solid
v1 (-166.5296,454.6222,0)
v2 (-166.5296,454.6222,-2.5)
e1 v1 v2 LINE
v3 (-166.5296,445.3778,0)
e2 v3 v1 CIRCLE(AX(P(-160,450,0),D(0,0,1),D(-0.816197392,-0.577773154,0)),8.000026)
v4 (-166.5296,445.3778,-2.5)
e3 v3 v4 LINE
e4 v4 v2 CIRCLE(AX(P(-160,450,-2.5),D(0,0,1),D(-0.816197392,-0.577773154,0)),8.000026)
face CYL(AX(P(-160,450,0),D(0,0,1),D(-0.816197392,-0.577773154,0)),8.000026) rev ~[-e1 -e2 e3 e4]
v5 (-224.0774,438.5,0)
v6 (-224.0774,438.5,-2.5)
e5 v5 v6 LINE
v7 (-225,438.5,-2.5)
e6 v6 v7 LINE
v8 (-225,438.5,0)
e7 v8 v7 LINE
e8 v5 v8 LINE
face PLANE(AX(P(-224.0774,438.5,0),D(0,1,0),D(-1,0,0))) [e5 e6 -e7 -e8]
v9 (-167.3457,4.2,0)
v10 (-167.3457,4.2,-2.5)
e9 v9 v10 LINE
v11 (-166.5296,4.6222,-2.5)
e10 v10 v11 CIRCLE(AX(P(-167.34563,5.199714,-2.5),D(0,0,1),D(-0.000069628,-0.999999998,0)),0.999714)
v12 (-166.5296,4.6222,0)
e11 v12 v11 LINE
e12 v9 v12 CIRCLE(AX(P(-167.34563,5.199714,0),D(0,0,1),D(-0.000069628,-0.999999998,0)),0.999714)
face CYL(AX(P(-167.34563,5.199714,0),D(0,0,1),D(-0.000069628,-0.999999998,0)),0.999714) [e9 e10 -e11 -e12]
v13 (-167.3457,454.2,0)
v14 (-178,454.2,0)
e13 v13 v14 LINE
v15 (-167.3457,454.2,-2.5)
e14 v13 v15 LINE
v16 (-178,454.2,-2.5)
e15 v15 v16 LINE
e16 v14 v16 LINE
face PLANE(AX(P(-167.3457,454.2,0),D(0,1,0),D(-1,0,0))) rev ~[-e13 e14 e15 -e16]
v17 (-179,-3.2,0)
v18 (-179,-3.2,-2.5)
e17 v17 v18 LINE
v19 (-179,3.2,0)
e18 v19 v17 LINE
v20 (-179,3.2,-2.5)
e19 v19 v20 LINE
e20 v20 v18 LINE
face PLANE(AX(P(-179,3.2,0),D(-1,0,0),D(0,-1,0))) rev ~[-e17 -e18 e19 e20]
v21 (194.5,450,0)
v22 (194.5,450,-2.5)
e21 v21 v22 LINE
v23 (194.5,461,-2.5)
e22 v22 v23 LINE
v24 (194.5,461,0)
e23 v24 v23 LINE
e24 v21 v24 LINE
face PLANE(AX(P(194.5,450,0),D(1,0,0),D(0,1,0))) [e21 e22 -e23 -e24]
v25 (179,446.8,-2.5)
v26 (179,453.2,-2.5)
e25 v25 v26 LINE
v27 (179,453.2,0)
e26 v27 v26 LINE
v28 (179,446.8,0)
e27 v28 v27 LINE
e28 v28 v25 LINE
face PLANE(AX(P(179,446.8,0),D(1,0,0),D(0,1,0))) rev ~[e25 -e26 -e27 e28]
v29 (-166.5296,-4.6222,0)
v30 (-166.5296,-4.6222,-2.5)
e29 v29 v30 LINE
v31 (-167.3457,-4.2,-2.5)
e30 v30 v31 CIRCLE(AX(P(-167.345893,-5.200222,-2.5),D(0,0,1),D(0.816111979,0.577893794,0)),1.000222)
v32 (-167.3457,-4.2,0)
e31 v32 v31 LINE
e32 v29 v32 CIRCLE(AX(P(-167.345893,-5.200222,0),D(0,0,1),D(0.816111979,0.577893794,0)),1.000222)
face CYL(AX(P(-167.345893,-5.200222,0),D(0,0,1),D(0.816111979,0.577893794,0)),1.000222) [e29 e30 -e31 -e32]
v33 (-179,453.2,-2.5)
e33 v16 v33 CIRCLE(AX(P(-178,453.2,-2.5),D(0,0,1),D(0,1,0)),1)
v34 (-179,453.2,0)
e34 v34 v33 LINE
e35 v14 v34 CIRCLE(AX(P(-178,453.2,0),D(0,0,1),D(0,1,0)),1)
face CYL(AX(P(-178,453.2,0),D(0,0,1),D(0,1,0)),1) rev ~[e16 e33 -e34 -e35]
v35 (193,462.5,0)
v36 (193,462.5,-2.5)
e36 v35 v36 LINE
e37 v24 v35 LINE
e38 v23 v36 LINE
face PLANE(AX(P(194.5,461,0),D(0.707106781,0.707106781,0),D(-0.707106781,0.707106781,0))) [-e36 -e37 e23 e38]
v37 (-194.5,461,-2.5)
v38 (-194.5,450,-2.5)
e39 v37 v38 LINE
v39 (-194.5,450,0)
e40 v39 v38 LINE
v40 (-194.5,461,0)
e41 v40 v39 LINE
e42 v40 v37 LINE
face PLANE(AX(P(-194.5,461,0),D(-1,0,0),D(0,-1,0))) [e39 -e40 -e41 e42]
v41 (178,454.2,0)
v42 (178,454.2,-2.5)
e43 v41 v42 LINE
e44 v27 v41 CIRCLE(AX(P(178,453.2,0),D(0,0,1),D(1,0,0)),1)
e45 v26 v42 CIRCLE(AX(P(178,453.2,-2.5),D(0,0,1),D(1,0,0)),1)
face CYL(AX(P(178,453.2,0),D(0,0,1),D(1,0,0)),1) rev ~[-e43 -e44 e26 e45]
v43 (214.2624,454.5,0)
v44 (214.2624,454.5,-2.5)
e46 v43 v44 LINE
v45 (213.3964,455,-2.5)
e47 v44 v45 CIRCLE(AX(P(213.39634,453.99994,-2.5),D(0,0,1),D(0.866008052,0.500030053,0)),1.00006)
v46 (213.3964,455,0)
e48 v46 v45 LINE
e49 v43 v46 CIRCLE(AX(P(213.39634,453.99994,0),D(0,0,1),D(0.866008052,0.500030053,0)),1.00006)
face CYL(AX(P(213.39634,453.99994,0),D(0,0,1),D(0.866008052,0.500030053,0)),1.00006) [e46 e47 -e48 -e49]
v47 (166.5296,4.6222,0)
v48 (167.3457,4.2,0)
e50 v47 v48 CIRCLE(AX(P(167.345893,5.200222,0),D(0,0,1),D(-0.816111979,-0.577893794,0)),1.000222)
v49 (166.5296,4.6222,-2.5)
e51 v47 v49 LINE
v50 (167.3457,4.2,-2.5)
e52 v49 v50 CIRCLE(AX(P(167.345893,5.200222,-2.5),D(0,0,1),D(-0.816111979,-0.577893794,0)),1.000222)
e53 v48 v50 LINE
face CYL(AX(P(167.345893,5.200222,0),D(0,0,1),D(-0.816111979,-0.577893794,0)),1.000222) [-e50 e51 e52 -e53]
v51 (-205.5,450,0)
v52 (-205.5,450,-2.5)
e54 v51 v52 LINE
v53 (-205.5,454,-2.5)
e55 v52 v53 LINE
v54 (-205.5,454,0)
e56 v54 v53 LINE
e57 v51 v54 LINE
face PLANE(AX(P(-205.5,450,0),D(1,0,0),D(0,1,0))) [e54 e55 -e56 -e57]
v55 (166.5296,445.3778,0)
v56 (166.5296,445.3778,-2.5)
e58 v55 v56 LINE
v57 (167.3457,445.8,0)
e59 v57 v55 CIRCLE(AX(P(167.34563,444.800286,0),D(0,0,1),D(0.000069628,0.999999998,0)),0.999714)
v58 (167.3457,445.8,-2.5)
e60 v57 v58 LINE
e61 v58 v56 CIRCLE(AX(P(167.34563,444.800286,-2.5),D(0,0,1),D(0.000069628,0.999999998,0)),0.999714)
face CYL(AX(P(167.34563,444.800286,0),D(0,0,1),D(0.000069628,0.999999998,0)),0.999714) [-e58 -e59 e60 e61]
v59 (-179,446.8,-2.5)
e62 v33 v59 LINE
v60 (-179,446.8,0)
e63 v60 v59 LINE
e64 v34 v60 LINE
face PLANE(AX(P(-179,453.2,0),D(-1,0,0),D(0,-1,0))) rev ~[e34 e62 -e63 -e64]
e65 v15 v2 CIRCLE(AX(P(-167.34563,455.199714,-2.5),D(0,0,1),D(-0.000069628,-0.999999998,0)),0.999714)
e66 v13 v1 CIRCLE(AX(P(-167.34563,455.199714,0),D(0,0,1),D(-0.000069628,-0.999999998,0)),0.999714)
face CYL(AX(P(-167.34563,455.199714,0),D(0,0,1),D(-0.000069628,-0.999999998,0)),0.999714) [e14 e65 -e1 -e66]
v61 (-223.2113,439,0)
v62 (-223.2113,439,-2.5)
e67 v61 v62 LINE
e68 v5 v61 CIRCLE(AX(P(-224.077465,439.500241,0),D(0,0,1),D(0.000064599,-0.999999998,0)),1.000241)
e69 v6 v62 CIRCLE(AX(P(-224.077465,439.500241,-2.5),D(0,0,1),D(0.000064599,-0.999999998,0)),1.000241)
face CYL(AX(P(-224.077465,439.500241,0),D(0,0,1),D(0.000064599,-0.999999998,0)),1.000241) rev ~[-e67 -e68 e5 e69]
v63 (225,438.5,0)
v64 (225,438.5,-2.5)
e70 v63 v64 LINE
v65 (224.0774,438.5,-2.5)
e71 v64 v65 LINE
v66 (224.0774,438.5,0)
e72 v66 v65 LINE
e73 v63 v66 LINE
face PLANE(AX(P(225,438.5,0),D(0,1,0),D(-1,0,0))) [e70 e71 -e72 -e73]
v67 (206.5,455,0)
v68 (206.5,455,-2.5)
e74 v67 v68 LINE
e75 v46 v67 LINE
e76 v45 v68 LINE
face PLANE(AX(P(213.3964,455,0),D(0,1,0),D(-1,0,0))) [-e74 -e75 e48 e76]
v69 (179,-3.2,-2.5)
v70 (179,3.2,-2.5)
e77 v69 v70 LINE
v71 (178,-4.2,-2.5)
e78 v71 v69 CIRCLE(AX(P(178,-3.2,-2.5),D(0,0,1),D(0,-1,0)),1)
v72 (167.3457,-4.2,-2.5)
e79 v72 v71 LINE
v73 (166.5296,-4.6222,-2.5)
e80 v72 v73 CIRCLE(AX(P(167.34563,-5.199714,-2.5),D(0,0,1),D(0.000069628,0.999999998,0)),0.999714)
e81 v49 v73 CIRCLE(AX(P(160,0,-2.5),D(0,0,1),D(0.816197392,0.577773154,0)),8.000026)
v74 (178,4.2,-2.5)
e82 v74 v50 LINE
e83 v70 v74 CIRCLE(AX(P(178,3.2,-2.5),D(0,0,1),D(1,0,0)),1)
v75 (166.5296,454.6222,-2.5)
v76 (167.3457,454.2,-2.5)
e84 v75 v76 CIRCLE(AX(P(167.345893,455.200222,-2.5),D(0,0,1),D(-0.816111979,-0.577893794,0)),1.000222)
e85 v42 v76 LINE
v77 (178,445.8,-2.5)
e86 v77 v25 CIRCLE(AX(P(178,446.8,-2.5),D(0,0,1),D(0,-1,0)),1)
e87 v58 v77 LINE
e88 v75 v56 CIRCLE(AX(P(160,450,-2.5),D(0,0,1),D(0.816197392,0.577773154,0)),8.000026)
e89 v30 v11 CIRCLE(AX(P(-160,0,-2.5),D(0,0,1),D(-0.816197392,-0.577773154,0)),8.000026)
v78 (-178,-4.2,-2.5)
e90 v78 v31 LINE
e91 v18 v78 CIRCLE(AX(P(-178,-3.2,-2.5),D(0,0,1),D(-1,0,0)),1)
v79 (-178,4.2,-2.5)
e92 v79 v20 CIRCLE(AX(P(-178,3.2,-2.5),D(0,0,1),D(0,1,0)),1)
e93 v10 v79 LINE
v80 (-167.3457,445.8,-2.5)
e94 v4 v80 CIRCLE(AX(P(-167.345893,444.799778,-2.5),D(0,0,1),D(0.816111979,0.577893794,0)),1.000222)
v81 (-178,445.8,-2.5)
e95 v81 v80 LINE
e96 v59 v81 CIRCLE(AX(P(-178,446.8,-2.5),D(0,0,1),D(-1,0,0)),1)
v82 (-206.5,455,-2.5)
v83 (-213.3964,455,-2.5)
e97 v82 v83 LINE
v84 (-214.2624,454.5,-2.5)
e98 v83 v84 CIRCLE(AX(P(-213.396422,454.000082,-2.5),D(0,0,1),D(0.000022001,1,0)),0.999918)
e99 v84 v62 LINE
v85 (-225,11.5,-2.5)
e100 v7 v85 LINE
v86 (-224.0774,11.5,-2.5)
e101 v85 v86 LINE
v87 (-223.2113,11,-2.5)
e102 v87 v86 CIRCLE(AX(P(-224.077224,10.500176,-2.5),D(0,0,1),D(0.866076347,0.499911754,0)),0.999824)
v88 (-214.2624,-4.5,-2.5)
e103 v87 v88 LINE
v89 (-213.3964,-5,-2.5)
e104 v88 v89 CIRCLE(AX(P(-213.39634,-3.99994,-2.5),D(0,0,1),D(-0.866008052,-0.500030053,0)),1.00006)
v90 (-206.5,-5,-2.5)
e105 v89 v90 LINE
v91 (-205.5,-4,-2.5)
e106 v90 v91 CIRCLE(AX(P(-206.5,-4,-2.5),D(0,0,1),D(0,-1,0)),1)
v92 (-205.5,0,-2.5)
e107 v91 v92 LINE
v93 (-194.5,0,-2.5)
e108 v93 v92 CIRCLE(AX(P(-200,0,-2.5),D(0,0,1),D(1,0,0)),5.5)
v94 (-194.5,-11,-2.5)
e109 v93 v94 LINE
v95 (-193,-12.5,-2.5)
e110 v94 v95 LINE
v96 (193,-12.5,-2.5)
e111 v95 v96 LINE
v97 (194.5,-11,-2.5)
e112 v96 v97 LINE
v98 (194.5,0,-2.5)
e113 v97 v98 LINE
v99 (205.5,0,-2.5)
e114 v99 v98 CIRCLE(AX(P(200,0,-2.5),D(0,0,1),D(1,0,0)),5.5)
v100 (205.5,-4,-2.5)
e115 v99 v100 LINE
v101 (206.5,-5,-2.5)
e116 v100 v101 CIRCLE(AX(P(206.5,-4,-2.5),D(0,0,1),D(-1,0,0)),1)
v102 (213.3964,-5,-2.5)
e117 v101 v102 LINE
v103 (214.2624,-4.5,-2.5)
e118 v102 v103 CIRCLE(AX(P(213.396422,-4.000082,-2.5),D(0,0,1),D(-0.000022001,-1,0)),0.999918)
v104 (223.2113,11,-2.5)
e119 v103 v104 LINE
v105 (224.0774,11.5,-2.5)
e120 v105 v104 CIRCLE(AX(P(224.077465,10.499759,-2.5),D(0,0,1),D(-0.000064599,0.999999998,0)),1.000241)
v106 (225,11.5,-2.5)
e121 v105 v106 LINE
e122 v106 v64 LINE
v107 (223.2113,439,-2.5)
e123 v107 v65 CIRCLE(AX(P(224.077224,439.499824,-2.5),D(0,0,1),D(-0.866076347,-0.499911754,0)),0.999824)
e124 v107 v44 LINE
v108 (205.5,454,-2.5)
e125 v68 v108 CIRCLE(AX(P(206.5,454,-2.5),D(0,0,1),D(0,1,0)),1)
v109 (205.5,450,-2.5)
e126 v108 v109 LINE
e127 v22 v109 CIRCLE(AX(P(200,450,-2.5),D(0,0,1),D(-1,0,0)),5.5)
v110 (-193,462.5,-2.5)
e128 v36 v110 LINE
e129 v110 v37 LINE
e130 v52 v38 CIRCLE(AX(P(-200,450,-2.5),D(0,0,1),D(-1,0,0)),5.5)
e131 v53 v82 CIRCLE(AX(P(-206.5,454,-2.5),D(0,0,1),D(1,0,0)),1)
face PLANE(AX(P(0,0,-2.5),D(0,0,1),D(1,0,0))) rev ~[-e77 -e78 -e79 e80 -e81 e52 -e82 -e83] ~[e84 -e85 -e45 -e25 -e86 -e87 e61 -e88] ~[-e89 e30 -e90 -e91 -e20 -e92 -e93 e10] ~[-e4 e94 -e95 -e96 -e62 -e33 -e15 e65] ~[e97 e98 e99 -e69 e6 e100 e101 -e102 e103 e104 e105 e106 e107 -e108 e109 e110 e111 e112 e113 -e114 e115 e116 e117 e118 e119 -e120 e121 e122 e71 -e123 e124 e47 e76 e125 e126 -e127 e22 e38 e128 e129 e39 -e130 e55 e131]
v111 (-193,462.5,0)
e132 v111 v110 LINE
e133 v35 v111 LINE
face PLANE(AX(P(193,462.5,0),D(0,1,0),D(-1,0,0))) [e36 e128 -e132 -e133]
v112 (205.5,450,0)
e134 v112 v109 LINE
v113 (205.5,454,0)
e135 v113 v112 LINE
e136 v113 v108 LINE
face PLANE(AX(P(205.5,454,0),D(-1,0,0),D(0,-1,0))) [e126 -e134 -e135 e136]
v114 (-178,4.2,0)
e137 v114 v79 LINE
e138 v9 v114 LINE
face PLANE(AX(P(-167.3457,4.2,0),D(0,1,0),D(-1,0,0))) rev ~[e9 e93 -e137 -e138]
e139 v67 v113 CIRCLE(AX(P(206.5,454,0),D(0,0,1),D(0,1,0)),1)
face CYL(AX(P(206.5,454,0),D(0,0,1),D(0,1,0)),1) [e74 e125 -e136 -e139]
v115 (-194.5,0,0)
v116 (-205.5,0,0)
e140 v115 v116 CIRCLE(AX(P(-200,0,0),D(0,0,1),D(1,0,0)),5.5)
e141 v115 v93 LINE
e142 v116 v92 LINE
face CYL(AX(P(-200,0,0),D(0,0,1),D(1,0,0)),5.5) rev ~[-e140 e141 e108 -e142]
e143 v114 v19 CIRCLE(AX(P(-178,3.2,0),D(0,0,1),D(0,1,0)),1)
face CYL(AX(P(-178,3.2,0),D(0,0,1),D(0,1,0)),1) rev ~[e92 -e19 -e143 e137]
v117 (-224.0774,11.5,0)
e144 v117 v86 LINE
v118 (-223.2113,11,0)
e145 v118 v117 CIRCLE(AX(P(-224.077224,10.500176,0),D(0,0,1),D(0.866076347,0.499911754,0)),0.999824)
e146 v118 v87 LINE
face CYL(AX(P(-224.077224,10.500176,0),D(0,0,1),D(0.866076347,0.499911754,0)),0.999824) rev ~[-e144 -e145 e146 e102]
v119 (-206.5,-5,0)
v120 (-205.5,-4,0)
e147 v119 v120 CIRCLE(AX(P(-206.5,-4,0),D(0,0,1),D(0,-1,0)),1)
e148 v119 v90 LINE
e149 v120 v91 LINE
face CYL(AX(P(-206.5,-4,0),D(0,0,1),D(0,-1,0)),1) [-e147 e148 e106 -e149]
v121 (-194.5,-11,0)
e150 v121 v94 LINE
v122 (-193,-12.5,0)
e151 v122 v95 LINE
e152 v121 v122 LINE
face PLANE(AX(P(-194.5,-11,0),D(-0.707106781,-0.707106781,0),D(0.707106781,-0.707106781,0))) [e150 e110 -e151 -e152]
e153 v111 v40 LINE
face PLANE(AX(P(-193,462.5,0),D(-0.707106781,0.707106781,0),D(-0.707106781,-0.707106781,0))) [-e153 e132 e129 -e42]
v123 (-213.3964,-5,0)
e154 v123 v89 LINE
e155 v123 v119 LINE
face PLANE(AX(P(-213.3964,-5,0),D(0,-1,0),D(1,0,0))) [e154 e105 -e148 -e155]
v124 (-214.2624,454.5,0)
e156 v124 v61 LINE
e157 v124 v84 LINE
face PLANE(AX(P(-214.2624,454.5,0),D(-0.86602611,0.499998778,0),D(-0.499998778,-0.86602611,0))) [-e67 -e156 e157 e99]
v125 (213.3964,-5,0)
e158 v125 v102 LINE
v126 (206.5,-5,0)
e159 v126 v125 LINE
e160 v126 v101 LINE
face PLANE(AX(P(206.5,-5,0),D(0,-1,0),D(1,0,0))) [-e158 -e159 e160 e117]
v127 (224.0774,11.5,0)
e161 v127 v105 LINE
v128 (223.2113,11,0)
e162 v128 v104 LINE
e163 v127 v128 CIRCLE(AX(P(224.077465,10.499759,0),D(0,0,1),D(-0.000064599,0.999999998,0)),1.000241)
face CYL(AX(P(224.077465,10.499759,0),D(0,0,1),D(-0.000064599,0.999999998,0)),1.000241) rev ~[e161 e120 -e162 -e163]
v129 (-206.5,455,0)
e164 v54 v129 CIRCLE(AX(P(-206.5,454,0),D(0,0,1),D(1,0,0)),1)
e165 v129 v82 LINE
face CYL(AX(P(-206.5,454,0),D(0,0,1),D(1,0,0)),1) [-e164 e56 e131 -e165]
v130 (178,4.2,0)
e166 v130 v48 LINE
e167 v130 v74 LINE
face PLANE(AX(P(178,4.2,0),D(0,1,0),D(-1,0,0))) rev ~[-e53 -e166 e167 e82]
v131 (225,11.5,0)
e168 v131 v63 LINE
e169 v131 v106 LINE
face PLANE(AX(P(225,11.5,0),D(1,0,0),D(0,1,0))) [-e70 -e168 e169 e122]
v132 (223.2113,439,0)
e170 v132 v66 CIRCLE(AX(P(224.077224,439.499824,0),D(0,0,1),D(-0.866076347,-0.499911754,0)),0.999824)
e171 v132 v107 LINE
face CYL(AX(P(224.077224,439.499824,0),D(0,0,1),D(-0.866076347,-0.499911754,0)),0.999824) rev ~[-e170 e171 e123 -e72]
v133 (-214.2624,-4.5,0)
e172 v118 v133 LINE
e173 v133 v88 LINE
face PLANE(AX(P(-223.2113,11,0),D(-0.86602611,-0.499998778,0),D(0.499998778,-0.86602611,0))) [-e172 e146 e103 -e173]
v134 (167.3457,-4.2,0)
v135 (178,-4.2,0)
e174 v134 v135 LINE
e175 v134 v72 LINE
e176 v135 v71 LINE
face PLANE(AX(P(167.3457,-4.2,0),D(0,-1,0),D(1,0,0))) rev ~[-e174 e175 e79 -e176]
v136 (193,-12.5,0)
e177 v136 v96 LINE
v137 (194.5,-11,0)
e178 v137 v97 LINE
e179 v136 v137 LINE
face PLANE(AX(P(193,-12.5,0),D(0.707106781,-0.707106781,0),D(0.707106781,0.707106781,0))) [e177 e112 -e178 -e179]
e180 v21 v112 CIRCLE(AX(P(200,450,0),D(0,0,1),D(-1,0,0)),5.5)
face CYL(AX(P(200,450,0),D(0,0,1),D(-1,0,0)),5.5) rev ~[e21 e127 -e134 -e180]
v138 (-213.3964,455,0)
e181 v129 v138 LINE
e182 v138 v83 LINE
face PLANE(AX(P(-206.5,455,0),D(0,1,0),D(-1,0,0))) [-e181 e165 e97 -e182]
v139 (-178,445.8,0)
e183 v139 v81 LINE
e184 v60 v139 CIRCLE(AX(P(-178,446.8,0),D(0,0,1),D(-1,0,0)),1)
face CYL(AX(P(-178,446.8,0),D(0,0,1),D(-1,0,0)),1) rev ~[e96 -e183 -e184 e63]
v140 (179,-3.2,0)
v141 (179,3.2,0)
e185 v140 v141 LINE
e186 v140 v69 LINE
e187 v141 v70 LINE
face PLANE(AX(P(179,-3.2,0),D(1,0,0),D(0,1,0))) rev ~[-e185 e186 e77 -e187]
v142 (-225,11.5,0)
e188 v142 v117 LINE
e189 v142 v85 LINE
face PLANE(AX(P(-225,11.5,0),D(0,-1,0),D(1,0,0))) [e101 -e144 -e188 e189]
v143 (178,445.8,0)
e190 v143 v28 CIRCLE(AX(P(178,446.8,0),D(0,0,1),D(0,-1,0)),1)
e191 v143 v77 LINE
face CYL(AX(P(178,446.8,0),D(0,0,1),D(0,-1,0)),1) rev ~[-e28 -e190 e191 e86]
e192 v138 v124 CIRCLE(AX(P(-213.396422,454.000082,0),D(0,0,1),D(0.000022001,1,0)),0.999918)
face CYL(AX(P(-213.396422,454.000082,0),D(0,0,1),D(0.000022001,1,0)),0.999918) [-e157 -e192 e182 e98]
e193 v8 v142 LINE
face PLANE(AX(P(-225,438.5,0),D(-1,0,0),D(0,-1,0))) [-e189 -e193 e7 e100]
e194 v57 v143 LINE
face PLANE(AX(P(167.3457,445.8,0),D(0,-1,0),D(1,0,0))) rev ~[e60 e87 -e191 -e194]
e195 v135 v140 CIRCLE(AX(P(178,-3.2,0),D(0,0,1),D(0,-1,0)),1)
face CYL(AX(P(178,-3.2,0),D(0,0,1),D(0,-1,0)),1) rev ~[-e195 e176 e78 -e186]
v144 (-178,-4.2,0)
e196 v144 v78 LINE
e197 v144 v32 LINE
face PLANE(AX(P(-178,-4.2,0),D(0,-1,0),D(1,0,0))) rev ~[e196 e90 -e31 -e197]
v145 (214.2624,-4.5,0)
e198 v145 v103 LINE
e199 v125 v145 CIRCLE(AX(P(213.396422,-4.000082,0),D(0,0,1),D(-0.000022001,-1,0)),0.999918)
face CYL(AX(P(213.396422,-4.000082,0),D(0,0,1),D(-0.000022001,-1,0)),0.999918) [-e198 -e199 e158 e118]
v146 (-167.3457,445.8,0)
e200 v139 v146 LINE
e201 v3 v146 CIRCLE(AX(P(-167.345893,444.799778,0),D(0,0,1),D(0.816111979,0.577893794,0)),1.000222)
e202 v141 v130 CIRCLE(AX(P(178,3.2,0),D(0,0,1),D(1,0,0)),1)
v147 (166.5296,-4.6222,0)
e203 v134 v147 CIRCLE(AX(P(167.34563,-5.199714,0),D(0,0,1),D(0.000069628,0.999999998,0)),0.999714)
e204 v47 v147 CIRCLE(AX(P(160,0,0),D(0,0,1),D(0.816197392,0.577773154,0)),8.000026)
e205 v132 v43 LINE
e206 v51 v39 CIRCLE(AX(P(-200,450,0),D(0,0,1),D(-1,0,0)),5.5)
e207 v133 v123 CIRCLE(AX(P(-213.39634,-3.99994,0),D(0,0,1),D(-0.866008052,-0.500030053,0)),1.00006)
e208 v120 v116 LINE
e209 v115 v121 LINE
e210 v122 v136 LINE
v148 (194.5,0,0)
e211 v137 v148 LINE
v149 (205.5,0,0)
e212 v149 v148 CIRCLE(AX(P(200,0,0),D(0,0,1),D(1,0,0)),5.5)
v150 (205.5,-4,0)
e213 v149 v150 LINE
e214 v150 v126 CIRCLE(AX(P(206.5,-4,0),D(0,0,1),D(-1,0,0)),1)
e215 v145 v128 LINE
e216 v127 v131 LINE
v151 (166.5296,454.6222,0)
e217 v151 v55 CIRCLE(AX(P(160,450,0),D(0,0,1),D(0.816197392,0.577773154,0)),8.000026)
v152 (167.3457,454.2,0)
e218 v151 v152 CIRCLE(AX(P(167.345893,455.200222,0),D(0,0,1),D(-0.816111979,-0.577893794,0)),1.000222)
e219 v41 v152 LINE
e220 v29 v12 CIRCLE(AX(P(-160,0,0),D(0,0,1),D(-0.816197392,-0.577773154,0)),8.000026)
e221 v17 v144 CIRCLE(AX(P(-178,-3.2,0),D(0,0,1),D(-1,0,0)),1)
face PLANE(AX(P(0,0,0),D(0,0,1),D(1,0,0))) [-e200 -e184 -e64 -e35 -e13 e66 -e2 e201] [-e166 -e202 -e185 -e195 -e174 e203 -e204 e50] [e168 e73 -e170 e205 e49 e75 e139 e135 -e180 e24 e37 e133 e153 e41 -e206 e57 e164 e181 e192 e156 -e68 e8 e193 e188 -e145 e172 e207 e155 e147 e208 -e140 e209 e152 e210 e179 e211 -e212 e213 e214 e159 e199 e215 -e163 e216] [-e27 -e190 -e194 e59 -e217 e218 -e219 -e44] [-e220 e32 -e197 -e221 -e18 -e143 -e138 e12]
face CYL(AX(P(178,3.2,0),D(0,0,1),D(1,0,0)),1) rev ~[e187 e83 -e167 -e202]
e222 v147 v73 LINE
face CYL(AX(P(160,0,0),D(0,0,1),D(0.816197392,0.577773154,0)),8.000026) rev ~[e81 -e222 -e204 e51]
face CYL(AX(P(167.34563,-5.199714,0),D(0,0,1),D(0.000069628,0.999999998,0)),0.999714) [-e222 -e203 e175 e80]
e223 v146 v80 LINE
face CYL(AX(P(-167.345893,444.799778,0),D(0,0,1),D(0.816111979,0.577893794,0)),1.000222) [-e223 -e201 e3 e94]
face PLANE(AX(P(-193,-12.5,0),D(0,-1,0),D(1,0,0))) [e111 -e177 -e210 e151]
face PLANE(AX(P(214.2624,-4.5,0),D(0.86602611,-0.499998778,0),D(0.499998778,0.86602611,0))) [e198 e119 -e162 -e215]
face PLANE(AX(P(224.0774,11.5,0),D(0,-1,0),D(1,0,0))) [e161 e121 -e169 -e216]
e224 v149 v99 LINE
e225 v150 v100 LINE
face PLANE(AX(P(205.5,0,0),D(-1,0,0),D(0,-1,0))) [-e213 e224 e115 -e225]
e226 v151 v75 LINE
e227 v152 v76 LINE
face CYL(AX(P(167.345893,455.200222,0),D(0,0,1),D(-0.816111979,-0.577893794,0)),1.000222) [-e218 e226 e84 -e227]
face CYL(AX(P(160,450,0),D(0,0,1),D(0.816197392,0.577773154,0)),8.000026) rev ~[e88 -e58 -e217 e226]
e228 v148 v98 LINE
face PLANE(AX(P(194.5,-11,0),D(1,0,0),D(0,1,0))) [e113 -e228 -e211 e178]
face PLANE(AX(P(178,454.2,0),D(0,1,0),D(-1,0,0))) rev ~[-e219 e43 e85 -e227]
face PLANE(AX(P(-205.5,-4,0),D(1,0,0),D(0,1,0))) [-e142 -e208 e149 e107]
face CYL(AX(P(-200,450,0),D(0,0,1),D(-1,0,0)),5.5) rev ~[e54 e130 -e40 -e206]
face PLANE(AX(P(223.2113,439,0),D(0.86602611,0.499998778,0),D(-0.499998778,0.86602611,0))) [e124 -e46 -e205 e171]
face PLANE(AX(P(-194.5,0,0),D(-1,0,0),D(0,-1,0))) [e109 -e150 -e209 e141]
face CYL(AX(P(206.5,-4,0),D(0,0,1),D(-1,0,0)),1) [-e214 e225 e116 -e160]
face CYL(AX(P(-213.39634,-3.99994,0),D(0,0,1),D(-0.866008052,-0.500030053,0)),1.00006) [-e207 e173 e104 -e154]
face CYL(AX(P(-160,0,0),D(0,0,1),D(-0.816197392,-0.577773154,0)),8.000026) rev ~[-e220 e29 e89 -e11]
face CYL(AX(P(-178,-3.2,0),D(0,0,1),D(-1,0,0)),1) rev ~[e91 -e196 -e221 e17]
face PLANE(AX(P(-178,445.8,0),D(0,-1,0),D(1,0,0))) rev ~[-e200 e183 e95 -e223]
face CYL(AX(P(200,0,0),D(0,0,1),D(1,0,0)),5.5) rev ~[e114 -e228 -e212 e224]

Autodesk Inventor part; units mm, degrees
sketch "Sketch_11" plane through (0, 0, 0) normal (0, 0, 1) x (1, 0, 0)
  line L0 (-225, 438.5) -> (-225, 11.5)
  line L1 (-225, 11.5) -> (-224.0774, 11.5)
  arc A0 (-223.2113, 11) -> (-224.0774, 11.5) centre (-224.0774, 10.5) ccw
  line L2 (-223.2113, 11) -> (-214.2624, -4.5)
  arc A1 (-214.2624, -4.5) -> (-213.3964, -5) centre (-213.3964, -4) ccw
  line L3 (-213.3964, -5) -> (-206.5, -5)
  arc A2 (-206.5, -5) -> (-205.5, -4) centre (-206.5, -4) ccw
  line L4 (-205.5, -4) -> (-205.5, 0)
  arc A3 (-194.5, 0) -> (-205.5, 0) centre (-200, 0) ccw
  line L5 (-194.5, 0) -> (-194.5, -11)
  line L6 (-194.5, -11) -> (-193, -12.5)
  line L7 (-193, -12.5) -> (193, -12.5)
  line L8 (193, -12.5) -> (194.5, -11)
  line L9 (194.5, -11) -> (194.5, 0)
  arc A4 (205.5, 0) -> (194.5, 0) centre (200, 0) ccw
  line L10 (205.5, 0) -> (205.5, -4)
  arc A5 (205.5, -4) -> (206.5, -5) centre (206.5, -4) ccw
  line L11 (206.5, -5) -> (213.3964, -5)
  arc A6 (213.3964, -5) -> (214.2624, -4.5) centre (213.3964, -4) ccw
  line L12 (214.2624, -4.5) -> (223.2113, 11)
  arc A7 (224.0774, 11.5) -> (223.2113, 11) centre (224.0774, 10.5) ccw
  line L13 (224.0774, 11.5) -> (225, 11.5)
  line L14 (225, 11.5) -> (225, 438.5)
  line L15 (225, 438.5) -> (224.0774, 438.5)
  arc A8 (223.2113, 439) -> (224.0774, 438.5) centre (224.0774, 439.5) ccw
  line L16 (223.2113, 439) -> (214.2624, 454.5)
  arc A9 (214.2624, 454.5) -> (213.3964, 455) centre (213.3964, 454) ccw
  line L17 (213.3964, 455) -> (206.5, 455)
  arc A10 (206.5, 455) -> (205.5, 454) centre (206.5, 454) ccw
  line L18 (205.5, 454) -> (205.5, 450)
  arc A11 (194.5, 450) -> (205.5, 450) centre (200, 450) ccw
  line L19 (194.5, 450) -> (194.5, 461)
  line L20 (194.5, 461) -> (193, 462.5)
  line L21 (193, 462.5) -> (-193, 462.5)
  line L22 (-193, 462.5) -> (-194.5, 461)
  line L23 (-194.5, 461) -> (-194.5, 450)
  arc A12 (-205.5, 450) -> (-194.5, 450) centre (-200, 450) ccw
  line L24 (-205.5, 450) -> (-205.5, 454)
  arc A13 (-205.5, 454) -> (-206.5, 455) centre (-206.5, 454) ccw
  line L25 (-206.5, 455) -> (-213.3964, 455)
  arc A14 (-213.3964, 455) -> (-214.2624, 454.5) centre (-213.3964, 454) ccw
  line L26 (-214.2624, 454.5) -> (-223.2113, 439)
  arc A15 (-224.0774, 438.5) -> (-223.2113, 439) centre (-224.0774, 439.5) ccw
  line L27 (-224.0774, 438.5) -> (-225, 438.5)
  arc A16 (166.5296, 4.6222) -> (166.5296, -4.6222) centre (160, 0) ccw
  arc A17 (167.3457, -4.2) -> (166.5296, -4.6222) centre (167.3457, -5.2) ccw
  line L28 (167.3457, -4.2) -> (178, -4.2)
  arc A18 (178, -4.2) -> (179, -3.2) centre (178, -3.2) ccw
  line L29 (179, -3.2) -> (179, 3.2)
  arc A19 (179, 3.2) -> (178, 4.2) centre (178, 3.2) ccw
  line L30 (178, 4.2) -> (167.3457, 4.2)
  arc A20 (166.5296, 4.6222) -> (167.3457, 4.2) centre (167.3457, 5.2) ccw
  arc A21 (166.5296, 454.6222) -> (166.5296, 445.3778) centre (160, 450) ccw
  arc A22 (167.3457, 445.8) -> (166.5296, 445.3778) centre (167.3457, 444.8) ccw
  line L31 (167.3457, 445.8) -> (178, 445.8)
  arc A23 (178, 445.8) -> (179, 446.8) centre (178, 446.8) ccw
  line L32 (179, 446.8) -> (179, 453.2)
  arc A24 (179, 453.2) -> (178, 454.2) centre (178, 453.2) ccw
  line L33 (178, 454.2) -> (167.3457, 454.2)
  arc A25 (166.5296, 454.6222) -> (167.3457, 454.2) centre (167.3457, 455.2) ccw
  line L34 (-179, 3.2) -> (-179, -3.2)
  arc A26 (-179, -3.2) -> (-178, -4.2) centre (-178, -3.2) ccw
  line L35 (-178, -4.2) -> (-167.3457, -4.2)
  arc A27 (-166.5296, -4.6222) -> (-167.3457, -4.2) centre (-167.3457, -5.2) ccw
  arc A28 (-166.5296, -4.6222) -> (-166.5296, 4.6222) centre (-160, 0) ccw
  arc A29 (-167.3457, 4.2) -> (-166.5296, 4.6222) centre (-167.3457, 5.2) ccw
  line L36 (-167.3457, 4.2) -> (-178, 4.2)
  arc A30 (-178, 4.2) -> (-179, 3.2) centre (-178, 3.2) ccw
  arc A31 (-179, 446.8) -> (-178, 445.8) centre (-178, 446.8) ccw
  line L37 (-178, 445.8) -> (-167.3457, 445.8)
  arc A32 (-166.5296, 445.3778) -> (-167.3457, 445.8) centre (-167.3457, 444.8) ccw
  arc A33 (-166.5296, 445.3778) -> (-166.5296, 454.6222) centre (-160, 450) ccw
  arc A34 (-167.3457, 454.2) -> (-166.5296, 454.6222) centre (-167.3457, 455.2) ccw
  line L38 (-167.3457, 454.2) -> (-178, 454.2)
  arc A35 (-178, 454.2) -> (-179, 453.2) centre (-178, 453.2) ccw
  line L39 (-179, 453.2) -> (-179, 446.8)
extrude "Extrusion1" add sketch "Sketch_11" against normal blind 2.5
ref_plane "MP_XY" through (0, 0, 0) normal (0, 0, 1) x (1, 0, 0)
ref_plane "MP_YZ" through (0, 0, 0) normal (1, 0, 0) x (0, 1, 0)
ref_plane "MP_ZX" through (0, 0, 0) normal (0, 1, 0) x (0, 0, 1)
ref_plane "to_EB_XY" through (174.8, 0, -2.5) normal (0, 0, 1) x (1, 0, 0)
ref_plane "to_EB_YZ" through (174.8, 0, -2.5) normal (1, 0, 0) x (0, 1, 0)
ref_plane "to_EB_ZX" through (174.8, 0, -2.5) normal (0, 1, 0) x (0, 0, 1)
properties part number "CAD_MPL_1050.000"
